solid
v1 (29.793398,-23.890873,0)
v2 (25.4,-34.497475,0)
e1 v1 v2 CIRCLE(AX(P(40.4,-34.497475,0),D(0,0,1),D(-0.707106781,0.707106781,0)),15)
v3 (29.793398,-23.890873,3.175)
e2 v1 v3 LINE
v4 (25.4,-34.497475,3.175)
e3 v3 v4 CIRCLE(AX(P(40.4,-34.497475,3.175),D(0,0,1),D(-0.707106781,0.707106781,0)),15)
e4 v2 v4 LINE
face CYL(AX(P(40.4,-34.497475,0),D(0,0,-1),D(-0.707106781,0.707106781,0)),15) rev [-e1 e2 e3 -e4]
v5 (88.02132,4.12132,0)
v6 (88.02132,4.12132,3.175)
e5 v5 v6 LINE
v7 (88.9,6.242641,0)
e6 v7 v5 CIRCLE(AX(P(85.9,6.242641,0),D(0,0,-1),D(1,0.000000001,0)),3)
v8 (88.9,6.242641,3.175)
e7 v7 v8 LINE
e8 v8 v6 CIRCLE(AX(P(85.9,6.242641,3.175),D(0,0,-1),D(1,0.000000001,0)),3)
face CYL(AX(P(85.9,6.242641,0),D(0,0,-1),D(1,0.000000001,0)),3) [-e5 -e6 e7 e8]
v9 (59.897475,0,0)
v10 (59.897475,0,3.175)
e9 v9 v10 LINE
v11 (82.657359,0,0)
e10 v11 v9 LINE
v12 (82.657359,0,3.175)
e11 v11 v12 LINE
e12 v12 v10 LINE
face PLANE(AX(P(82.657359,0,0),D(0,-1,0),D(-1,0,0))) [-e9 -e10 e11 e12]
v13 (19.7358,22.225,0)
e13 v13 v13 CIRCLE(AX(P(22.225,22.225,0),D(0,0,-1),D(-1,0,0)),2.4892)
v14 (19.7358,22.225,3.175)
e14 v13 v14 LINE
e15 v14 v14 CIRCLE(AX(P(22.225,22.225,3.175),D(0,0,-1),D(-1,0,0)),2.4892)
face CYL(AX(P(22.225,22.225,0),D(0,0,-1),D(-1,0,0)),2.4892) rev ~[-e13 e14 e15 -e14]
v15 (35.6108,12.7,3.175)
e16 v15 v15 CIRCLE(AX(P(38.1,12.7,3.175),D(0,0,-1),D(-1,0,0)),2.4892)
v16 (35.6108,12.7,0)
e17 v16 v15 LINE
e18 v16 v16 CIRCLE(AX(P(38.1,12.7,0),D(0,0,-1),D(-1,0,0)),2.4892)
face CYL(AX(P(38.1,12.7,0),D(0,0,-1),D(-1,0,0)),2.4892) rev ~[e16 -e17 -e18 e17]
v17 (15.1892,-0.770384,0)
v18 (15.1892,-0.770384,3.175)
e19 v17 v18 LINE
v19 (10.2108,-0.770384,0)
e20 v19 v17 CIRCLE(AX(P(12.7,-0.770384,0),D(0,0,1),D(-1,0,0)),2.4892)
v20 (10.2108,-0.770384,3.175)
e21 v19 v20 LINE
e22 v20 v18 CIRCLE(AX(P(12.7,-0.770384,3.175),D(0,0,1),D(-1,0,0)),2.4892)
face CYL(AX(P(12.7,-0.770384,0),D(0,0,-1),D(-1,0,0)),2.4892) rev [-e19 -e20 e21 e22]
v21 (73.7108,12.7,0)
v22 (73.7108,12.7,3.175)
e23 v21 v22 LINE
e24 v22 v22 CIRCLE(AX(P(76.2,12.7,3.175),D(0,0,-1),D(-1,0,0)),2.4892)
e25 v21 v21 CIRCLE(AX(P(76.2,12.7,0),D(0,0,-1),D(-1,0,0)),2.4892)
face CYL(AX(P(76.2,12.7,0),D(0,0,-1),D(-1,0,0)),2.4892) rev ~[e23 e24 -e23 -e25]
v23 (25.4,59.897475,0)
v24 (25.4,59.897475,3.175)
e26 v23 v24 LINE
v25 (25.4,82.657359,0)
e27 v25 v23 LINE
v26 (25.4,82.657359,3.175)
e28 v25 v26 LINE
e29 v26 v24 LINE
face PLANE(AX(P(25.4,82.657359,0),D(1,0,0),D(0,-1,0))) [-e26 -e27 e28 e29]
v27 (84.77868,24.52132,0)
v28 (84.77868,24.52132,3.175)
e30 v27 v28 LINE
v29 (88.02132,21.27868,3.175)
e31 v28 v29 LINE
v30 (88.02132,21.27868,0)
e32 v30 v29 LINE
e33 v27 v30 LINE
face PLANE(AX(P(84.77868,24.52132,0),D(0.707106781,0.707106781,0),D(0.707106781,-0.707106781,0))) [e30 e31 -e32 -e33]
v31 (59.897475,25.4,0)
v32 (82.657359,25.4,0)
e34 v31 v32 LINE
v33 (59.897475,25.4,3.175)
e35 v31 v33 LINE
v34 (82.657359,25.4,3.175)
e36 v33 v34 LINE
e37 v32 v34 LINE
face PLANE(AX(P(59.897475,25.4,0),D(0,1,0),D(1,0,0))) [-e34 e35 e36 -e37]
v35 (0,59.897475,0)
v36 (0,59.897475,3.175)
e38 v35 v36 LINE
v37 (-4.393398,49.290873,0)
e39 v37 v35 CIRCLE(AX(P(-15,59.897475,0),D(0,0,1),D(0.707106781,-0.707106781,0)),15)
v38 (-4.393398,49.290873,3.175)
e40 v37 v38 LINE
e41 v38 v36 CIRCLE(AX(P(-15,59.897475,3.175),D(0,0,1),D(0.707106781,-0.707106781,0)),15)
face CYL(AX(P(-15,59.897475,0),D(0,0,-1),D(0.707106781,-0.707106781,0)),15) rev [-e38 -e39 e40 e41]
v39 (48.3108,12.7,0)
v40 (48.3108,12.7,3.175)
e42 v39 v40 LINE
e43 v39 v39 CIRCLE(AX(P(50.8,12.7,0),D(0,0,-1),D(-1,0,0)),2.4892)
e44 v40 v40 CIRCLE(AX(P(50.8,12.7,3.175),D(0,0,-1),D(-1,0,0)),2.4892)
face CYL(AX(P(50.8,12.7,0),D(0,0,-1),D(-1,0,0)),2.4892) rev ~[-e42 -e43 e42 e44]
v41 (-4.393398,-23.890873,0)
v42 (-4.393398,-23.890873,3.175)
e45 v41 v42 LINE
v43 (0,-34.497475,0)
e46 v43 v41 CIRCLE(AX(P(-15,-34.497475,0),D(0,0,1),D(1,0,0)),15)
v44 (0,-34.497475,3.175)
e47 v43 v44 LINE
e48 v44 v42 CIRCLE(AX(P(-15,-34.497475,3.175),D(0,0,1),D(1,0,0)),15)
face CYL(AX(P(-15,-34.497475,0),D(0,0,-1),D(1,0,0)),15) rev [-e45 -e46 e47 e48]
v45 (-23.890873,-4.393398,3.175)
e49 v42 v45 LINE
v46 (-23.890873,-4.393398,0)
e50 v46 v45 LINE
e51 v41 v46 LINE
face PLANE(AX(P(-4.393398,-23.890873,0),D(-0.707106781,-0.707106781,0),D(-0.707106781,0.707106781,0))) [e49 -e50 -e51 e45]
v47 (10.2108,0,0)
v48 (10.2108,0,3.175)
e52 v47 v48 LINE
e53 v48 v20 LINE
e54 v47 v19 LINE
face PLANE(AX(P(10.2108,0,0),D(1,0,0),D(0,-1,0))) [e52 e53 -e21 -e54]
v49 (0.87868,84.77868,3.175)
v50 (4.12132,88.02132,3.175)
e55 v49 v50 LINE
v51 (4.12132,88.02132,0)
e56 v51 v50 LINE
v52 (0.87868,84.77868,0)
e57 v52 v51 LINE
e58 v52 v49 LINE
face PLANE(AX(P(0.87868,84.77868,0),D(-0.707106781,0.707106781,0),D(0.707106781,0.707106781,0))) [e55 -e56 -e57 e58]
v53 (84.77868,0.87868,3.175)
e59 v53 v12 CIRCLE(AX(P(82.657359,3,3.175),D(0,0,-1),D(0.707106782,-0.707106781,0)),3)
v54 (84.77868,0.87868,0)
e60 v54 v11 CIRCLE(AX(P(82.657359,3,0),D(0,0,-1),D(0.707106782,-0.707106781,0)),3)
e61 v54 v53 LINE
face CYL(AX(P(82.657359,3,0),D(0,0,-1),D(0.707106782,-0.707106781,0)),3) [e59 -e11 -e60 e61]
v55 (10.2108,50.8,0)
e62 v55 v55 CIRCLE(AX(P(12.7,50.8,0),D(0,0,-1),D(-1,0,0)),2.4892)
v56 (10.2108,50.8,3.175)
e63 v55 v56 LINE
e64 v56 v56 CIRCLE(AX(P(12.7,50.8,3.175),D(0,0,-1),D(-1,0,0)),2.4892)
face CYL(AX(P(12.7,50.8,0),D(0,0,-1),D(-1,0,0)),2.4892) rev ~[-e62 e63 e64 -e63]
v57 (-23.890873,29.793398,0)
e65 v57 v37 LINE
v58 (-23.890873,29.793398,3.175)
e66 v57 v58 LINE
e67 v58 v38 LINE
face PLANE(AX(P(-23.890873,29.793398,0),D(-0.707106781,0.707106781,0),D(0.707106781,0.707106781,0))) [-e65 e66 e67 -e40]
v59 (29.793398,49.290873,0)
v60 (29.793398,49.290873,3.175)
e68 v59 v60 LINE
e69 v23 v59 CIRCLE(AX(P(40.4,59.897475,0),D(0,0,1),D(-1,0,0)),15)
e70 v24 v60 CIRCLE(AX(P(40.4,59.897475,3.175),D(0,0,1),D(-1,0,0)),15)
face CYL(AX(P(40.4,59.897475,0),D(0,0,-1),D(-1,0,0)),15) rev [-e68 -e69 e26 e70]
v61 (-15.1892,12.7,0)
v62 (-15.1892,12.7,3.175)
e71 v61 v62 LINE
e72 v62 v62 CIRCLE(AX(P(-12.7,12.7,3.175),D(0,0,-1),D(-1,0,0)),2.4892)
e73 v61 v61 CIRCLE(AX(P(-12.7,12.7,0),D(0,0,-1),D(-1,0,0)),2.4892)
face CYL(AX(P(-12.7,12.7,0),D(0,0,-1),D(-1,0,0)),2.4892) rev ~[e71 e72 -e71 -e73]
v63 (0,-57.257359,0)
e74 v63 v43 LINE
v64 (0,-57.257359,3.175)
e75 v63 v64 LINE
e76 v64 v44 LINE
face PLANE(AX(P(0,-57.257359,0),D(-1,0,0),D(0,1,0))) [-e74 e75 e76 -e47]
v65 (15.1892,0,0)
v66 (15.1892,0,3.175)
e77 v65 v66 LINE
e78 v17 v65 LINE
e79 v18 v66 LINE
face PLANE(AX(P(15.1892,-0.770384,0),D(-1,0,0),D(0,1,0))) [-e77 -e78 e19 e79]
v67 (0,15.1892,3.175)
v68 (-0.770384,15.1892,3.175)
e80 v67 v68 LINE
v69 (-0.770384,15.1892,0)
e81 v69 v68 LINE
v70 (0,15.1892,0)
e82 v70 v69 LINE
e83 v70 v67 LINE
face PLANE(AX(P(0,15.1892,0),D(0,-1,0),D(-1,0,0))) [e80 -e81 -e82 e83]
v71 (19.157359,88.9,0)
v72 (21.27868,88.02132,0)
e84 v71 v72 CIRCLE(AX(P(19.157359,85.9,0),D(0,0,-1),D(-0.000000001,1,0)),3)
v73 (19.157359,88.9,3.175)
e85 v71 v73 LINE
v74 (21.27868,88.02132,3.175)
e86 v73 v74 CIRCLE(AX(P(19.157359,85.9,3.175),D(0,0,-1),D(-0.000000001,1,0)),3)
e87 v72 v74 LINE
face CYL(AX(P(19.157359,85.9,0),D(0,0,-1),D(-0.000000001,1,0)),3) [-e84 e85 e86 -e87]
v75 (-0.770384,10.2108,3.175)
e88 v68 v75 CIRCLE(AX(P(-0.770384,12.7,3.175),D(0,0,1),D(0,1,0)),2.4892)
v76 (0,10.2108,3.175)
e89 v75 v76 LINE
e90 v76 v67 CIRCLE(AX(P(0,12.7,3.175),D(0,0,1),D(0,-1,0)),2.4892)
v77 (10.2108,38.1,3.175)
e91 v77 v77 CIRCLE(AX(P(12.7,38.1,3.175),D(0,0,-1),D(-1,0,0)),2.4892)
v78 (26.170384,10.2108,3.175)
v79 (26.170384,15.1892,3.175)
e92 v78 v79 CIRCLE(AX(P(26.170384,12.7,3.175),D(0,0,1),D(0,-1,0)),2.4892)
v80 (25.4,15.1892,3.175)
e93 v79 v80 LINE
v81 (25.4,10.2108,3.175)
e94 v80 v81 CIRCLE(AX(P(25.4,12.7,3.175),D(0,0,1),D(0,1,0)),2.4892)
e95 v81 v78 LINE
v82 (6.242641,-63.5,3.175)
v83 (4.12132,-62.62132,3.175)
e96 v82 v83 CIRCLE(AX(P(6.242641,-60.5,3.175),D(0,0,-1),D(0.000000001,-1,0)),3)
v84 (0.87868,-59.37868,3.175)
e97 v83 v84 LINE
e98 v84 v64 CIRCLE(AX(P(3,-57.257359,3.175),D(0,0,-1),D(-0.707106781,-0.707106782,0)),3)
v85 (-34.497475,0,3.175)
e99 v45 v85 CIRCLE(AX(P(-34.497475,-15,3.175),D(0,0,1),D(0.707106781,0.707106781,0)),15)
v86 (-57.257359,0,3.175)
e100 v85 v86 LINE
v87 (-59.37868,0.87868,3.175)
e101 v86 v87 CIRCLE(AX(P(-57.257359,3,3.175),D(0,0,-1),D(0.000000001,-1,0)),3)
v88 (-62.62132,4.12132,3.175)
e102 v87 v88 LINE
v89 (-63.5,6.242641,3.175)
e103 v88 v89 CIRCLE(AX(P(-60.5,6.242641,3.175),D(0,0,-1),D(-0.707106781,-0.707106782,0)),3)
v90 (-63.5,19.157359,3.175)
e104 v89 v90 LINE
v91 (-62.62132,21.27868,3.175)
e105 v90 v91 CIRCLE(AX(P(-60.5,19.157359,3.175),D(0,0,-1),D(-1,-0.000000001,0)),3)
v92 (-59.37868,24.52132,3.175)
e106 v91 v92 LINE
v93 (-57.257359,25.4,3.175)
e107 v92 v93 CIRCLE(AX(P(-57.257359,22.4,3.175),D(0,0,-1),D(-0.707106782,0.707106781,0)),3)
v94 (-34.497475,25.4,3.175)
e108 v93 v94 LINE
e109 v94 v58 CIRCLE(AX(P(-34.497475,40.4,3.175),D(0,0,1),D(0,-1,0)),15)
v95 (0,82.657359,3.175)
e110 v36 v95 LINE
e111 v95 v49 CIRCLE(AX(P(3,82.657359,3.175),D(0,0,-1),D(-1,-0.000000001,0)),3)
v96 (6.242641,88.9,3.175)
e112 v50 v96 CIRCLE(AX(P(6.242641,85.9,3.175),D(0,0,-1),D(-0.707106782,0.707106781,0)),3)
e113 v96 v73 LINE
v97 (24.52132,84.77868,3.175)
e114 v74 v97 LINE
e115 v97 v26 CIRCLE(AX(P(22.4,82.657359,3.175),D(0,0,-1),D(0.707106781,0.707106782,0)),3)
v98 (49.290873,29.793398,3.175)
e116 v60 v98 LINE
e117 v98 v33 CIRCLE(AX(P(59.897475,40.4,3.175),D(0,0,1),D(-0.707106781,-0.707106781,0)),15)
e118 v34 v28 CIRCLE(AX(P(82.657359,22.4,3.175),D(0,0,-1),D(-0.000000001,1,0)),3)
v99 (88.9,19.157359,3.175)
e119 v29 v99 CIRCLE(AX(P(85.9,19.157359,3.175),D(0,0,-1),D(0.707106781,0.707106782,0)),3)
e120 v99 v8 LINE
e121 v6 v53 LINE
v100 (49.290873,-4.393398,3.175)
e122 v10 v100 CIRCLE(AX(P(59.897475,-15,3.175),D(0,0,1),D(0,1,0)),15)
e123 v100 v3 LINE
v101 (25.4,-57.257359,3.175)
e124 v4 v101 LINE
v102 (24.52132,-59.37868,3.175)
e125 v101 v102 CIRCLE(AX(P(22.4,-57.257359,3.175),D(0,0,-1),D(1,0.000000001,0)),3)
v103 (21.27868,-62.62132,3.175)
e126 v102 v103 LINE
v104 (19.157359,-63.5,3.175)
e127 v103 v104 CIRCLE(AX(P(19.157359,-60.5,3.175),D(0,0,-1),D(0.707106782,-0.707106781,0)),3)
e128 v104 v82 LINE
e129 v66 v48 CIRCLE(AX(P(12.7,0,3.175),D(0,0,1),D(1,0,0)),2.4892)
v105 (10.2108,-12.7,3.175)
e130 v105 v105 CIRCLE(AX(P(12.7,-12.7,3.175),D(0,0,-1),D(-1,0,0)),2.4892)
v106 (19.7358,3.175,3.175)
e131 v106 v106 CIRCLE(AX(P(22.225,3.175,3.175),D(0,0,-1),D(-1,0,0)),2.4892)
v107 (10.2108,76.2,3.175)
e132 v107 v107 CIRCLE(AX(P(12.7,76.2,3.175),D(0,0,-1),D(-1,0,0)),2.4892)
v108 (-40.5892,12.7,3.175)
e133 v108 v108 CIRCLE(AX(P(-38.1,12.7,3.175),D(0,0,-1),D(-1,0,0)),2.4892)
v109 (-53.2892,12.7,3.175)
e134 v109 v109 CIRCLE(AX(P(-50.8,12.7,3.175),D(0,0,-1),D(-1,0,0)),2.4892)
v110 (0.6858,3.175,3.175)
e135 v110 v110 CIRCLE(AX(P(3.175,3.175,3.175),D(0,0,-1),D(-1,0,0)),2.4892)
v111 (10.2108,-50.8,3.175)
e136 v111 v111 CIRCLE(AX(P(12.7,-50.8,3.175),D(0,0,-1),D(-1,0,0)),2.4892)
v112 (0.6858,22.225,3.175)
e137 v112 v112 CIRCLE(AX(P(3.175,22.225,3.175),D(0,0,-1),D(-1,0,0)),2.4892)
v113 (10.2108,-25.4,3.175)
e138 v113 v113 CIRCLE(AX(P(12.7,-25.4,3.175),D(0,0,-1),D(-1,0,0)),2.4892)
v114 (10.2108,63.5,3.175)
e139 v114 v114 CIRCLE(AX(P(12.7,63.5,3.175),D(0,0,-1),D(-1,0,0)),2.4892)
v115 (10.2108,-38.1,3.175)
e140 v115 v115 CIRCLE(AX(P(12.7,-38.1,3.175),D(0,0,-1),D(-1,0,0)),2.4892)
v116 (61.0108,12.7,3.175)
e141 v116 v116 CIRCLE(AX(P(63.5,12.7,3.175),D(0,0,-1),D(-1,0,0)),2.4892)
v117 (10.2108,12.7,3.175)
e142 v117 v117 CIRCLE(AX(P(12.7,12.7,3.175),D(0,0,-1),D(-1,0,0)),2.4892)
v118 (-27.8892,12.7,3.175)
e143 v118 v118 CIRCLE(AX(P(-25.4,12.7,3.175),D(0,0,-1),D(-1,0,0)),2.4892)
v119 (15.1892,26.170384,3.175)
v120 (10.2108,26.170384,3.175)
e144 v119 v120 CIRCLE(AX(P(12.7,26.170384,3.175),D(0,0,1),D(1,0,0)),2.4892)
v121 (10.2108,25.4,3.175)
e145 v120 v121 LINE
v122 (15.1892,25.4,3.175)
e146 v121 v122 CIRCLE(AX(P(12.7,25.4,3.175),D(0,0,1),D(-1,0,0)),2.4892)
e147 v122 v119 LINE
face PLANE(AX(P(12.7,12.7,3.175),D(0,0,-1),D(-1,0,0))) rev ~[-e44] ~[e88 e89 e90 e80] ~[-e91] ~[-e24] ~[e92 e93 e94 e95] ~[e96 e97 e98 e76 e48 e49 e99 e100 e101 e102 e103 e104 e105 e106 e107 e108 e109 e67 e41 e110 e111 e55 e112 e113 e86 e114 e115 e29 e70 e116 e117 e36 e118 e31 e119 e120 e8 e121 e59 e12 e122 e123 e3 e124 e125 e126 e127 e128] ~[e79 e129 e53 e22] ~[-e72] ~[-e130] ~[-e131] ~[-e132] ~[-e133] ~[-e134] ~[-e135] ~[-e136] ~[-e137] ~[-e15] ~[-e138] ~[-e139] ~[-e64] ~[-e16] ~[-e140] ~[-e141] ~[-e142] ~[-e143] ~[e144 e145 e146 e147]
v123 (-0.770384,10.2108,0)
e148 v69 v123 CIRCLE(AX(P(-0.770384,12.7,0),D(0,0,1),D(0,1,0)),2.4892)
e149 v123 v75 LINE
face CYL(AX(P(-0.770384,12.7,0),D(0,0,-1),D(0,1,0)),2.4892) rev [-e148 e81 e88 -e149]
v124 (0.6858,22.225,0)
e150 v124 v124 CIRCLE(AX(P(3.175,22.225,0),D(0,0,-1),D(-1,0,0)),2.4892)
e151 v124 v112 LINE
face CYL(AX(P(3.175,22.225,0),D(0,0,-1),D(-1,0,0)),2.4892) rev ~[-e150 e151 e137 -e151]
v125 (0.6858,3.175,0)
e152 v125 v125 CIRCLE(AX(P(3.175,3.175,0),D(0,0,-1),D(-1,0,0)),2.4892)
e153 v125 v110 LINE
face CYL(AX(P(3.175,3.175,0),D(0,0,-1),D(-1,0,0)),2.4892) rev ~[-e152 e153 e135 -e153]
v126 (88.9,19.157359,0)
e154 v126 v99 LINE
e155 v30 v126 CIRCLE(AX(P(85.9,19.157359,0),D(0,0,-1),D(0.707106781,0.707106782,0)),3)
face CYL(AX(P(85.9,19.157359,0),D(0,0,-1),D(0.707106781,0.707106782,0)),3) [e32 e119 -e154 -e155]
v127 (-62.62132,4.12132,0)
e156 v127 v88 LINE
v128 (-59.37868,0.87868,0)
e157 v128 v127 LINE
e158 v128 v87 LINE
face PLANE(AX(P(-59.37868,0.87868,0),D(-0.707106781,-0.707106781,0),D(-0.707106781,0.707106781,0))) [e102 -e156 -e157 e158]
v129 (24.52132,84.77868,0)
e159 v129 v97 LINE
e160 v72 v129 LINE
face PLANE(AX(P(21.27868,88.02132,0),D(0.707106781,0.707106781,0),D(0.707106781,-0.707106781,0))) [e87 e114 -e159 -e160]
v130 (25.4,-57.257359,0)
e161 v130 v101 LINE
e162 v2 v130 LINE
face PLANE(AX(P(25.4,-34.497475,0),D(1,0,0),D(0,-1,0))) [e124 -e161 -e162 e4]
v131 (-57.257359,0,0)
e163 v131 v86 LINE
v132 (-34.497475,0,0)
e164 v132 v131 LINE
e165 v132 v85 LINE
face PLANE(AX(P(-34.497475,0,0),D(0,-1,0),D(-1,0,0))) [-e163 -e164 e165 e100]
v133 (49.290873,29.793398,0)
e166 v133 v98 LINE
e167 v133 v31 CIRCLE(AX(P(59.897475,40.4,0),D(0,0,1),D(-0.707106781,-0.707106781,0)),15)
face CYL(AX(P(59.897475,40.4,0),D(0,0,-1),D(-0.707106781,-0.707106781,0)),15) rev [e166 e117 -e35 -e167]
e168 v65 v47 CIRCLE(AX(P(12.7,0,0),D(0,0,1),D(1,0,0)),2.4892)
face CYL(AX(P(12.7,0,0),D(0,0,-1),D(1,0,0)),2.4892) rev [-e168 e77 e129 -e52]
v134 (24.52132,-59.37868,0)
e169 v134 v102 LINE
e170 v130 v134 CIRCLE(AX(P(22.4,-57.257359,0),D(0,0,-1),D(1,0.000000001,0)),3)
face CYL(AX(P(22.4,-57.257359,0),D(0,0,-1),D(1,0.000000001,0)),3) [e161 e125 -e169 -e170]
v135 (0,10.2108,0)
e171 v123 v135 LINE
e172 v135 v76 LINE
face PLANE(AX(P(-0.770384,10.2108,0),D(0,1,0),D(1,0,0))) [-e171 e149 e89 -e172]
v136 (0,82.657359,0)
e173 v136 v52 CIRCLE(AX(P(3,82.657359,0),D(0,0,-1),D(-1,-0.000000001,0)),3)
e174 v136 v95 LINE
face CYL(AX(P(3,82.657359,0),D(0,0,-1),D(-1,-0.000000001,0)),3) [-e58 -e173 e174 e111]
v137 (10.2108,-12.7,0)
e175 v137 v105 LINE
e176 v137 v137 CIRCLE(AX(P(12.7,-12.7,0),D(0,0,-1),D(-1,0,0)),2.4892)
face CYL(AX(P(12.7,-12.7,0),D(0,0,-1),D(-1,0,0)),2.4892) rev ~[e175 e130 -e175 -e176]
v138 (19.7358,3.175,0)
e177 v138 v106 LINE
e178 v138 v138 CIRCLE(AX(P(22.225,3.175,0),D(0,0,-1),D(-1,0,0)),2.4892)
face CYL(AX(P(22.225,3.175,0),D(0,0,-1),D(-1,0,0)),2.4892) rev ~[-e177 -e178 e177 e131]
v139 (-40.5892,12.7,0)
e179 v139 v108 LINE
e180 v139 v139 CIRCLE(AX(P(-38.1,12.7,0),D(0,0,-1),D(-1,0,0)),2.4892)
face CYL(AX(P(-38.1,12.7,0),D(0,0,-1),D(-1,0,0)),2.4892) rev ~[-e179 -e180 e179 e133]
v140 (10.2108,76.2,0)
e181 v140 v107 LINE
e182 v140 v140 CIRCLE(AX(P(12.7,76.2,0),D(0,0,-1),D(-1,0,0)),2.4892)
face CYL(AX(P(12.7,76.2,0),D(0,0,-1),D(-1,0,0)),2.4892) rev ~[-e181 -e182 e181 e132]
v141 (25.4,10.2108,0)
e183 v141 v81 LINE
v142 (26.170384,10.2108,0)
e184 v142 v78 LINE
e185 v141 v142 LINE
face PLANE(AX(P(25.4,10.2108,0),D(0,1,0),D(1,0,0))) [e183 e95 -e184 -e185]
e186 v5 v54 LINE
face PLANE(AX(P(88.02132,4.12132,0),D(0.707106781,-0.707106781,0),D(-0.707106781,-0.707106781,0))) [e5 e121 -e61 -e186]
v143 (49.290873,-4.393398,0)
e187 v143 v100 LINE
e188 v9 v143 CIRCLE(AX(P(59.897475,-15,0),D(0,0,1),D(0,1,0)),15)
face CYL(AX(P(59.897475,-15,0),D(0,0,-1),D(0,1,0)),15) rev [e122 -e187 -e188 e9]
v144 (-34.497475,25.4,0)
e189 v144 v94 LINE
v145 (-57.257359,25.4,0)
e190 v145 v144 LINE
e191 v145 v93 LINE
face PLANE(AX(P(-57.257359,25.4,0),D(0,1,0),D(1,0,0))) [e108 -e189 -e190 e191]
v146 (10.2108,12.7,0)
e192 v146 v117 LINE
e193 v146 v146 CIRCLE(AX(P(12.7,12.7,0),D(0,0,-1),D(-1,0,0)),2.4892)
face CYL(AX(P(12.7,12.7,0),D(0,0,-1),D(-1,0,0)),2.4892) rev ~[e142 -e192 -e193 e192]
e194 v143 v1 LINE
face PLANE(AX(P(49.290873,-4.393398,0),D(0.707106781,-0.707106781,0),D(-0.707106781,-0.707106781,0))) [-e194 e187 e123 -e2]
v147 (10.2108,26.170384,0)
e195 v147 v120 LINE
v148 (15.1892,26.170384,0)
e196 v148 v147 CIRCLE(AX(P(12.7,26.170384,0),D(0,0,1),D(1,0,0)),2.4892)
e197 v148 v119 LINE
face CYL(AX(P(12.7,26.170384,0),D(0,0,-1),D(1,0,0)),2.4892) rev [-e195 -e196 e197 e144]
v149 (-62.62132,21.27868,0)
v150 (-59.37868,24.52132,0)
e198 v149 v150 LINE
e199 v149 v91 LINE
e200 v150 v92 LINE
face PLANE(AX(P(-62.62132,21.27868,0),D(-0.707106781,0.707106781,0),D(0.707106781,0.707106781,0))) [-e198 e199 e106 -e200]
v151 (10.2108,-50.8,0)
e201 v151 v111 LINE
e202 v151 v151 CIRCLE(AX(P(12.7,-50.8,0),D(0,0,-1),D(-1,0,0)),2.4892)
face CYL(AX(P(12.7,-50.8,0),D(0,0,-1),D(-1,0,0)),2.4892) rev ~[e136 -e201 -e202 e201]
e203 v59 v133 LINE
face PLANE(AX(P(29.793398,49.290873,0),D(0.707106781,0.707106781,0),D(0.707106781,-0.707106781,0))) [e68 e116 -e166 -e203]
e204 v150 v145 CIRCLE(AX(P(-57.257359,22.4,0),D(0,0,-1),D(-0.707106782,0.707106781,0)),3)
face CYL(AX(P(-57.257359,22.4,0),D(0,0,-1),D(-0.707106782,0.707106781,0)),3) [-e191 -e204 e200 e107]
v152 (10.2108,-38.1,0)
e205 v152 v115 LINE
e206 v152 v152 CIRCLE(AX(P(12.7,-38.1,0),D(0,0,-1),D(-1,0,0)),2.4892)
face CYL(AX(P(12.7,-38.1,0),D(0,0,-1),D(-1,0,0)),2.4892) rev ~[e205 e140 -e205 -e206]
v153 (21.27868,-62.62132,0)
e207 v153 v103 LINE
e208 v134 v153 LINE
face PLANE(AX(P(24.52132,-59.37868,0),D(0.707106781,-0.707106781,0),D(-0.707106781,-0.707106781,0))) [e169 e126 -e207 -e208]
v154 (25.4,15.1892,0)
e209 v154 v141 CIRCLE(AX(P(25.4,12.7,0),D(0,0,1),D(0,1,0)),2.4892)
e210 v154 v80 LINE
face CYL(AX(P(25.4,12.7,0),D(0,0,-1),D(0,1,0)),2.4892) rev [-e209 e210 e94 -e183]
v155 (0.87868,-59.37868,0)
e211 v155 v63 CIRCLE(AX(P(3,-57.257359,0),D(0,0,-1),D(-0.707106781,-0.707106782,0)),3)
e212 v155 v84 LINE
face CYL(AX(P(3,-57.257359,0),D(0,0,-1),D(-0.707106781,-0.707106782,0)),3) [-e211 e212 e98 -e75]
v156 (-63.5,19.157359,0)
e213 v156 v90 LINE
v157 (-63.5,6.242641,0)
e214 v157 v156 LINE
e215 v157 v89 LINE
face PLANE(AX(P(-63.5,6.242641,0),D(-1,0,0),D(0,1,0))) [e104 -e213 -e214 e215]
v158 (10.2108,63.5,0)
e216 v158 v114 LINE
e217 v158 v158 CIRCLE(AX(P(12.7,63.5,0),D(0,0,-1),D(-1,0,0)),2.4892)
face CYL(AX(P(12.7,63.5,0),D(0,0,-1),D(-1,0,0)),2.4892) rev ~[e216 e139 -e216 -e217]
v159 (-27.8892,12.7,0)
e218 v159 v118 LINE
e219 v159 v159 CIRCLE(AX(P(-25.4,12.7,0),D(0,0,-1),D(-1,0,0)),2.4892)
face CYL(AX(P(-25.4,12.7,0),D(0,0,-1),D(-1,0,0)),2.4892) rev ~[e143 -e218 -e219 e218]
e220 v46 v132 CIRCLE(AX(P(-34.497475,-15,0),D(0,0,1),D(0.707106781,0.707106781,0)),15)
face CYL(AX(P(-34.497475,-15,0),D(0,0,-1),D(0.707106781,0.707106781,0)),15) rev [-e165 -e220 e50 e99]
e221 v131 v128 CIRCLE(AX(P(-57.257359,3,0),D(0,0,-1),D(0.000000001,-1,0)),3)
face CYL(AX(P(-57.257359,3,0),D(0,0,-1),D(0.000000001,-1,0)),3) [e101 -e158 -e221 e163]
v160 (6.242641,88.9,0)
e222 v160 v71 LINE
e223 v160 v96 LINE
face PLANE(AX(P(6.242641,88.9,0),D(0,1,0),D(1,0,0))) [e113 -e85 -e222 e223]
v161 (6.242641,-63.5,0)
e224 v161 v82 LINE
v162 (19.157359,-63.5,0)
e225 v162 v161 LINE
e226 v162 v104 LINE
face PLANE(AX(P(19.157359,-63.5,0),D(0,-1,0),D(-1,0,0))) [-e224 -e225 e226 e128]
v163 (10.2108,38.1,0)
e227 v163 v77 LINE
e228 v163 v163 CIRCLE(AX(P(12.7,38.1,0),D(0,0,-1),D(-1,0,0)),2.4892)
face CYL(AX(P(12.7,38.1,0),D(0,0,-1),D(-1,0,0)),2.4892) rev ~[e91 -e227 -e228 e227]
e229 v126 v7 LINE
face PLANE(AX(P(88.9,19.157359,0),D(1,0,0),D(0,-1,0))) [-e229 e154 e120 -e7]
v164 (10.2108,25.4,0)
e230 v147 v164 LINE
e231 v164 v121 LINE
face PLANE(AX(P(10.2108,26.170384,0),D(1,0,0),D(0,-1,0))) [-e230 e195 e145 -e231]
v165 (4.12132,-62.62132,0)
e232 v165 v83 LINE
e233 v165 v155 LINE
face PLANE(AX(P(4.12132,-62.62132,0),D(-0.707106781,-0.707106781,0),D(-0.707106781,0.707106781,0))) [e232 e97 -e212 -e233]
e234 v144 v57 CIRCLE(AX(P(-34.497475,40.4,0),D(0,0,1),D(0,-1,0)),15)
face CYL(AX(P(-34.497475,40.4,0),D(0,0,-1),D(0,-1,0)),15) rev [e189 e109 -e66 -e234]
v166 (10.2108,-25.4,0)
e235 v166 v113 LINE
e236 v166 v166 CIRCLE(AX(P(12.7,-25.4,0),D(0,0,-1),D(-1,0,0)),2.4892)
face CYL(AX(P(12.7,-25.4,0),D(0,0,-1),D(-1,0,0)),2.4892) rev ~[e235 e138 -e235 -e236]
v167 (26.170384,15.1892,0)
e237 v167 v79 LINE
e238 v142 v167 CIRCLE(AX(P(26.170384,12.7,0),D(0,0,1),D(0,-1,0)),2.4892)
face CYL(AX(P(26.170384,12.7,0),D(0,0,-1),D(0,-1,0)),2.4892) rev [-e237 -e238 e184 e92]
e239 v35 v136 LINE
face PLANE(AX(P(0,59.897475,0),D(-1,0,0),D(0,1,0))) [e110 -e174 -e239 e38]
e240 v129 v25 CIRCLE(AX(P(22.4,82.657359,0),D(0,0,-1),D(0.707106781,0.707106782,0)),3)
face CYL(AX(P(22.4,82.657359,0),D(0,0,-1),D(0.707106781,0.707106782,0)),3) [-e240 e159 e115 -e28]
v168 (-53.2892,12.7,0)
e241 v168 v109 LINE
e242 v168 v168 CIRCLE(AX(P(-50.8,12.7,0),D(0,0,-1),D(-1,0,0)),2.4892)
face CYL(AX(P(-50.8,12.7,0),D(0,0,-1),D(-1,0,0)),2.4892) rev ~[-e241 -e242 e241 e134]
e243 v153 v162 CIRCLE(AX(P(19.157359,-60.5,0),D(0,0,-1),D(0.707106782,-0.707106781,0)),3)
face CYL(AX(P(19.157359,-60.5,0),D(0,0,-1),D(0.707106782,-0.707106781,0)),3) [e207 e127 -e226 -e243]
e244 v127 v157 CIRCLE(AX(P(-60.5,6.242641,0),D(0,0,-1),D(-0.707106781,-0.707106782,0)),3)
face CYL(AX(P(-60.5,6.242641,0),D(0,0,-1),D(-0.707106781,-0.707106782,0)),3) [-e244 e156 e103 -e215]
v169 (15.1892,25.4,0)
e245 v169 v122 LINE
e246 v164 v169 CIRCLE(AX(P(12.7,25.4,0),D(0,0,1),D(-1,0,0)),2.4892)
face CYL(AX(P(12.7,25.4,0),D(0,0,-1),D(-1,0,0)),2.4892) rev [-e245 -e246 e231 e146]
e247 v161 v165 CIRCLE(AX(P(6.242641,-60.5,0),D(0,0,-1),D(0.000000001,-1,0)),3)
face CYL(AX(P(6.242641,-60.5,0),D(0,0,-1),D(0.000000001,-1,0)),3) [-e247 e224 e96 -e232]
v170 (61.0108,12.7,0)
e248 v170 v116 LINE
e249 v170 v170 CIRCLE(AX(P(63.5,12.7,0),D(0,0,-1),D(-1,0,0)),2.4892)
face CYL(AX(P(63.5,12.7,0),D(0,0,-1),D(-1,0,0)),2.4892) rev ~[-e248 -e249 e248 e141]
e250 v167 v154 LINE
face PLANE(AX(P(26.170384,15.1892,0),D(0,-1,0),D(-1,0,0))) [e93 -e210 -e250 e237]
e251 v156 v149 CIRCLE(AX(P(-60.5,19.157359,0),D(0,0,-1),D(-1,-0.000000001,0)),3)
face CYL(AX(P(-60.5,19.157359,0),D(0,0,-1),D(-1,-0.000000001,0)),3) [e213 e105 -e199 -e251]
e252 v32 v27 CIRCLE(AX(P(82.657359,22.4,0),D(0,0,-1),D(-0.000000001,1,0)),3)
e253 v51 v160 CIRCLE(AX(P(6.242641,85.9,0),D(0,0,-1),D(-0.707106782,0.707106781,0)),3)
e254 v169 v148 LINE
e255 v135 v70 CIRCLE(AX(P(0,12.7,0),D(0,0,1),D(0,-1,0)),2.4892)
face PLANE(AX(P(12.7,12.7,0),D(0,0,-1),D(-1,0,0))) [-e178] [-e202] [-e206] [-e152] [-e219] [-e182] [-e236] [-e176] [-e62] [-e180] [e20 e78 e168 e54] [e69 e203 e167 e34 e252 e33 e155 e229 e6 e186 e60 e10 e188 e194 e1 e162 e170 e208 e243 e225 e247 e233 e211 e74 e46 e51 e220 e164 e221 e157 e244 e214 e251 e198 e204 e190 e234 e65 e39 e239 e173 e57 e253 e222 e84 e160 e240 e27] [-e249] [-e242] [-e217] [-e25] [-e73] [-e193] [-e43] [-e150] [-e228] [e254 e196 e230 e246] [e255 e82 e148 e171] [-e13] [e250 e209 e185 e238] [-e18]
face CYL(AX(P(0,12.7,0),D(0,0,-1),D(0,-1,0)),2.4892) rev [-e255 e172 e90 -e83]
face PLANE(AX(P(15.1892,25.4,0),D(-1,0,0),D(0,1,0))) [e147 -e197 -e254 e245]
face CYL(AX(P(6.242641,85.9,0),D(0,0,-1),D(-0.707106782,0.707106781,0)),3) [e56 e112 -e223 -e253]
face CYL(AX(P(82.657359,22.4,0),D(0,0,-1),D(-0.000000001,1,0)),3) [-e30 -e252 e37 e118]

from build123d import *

# Parameters (mm, degrees)
SKETCH1_R           = 2.4892
BOSS_EXTRUDE1_DEPTH = 3.175


with BuildPart() as part:
    # Sketch1 → Boss-Extrude1 (new body)
    with BuildSketch(Plane(origin=(0, 0, 0), x_dir=(-1, 0, 0), z_dir=(0, 0, -1))):
        with BuildLine():
            Line((-59.897474683, 25.4), (-82.657359313, 25.4))
            ThreePointArc((-82.657359313, 25.4), (-83.80540961, 25.171638598), (-84.778679656, 24.521320344))
            Line((-84.778679656, 24.521320344), (-88.021320344, 21.278679656))
            ThreePointArc((-88.021320344, 21.278679656), (-88.671638598, 20.30540961), (-88.9, 19.157359313))
            Line((-88.9, 19.157359313), (-88.9, 6.242640687))
            ThreePointArc((-88.9, 6.242640687), (-88.671638598, 5.09459039), (-88.021320344, 4.121320344))
            Line((-88.021320344, 4.121320344), (-84.778679656, 0.878679656))
            ThreePointArc((-84.778679656, 0.878679656), (-83.80540961, 0.228361402), (-82.657359313, 0))
            Line((-82.657359313, 0), (-59.897474683, 0))
            ThreePointArc((-59.897474683, 0), (-54.157223198, -1.141807012), (-49.290872965, -4.393398282))
            Line((-49.290872965, -4.393398282), (-29.793398282, -23.890872965))
            ThreePointArc((-29.793398282, -23.890872965), (-26.541807012, -28.757223198), (-25.4, -34.497474683))
            Line((-25.4, -34.497474683), (-25.4, -57.257359313))
            ThreePointArc((-25.4, -57.257359313), (-25.171638598, -58.40540961), (-24.521320344, -59.378679656))
            Line((-24.521320344, -59.378679656), (-21.278679656, -62.621320344))
            ThreePointArc((-21.278679656, -62.621320344), (-20.30540961, -63.271638598), (-19.157359313, -63.5))
            Line((-19.157359313, -63.5), (-6.242640687, -63.5))
            ThreePointArc((-6.242640687, -63.5), (-5.09459039, -63.271638598), (-4.121320344, -62.621320344))
            Line((-4.121320344, -62.621320344), (-0.878679656, -59.378679656))
            ThreePointArc((-0.878679656, -59.378679656), (-0.228361402, -58.40540961), (0, -57.257359313))
            Line((0, -57.257359313), (0, -34.497474683))
            ThreePointArc((0, -34.497474683), (1.141807012, -28.757223198), (4.393398282, -23.890872965))
            Line((4.393398282, -23.890872965), (23.890872965, -4.393398282))
            ThreePointArc((23.890872965, -4.393398282), (28.757223198, -1.141807012), (34.497474683, 0))
            Line((34.497474683, 0), (57.257359313, 0))
            ThreePointArc((57.257359313, 0), (58.40540961, 0.228361402), (59.378679656, 0.878679656))
            Line((59.378679656, 0.878679656), (62.621320344, 4.121320344))
            ThreePointArc((62.621320344, 4.121320344), (63.271638598, 5.09459039), (63.5, 6.242640687))
            Line((63.5, 6.242640687), (63.5, 19.157359313))
            ThreePointArc((63.5, 19.157359313), (63.271638598, 20.30540961), (62.621320344, 21.278679656))
            Line((62.621320344, 21.278679656), (59.378679656, 24.521320344))
            ThreePointArc((59.378679656, 24.521320344), (58.40540961, 25.171638598), (57.257359313, 25.4))
            Line((57.257359313, 25.4), (34.497474683, 25.4))
            ThreePointArc((34.497474683, 25.4), (28.757223198, 26.541807012), (23.890872965, 29.793398282))
            Line((23.890872965, 29.793398282), (4.393398282, 49.290872965))
            ThreePointArc((4.393398282, 49.290872965), (1.141807012, 54.157223198), (0, 59.897474683))
            Line((0, 59.897474683), (0, 82.657359313))
            ThreePointArc((0, 82.657359313), (-0.228361402, 83.80540961), (-0.878679656, 84.778679656))
            Line((-0.878679656, 84.778679656), (-4.121320344, 88.021320344))
            ThreePointArc((-4.121320344, 88.021320344), (-5.09459039, 88.671638598), (-6.242640687, 88.9))
            Line((-6.242640687, 88.9), (-19.157359313, 88.9))
            ThreePointArc((-19.157359313, 88.9), (-20.30540961, 88.671638598), (-21.278679656, 88.021320344))
            Line((-21.278679656, 88.021320344), (-24.521320344, 84.778679656))
            ThreePointArc((-24.521320344, 84.778679656), (-25.171638598, 83.80540961), (-25.4, 82.657359313))
            Line((-25.4, 82.657359313), (-25.4, 59.897474683))
            ThreePointArc((-25.4, 59.897474683), (-26.541807012, 54.157223198), (-29.793398282, 49.290872965))
            Line((-29.793398282, 49.290872965), (-49.290872965, 29.793398282))
            ThreePointArc((-49.290872965, 29.793398282), (-54.157223198, 26.541807012), (-59.897474683, 25.4))
        make_face()
        with Locations((-12.7, -12.7)):
            Circle(SKETCH1_R, mode=Mode.SUBTRACT)
        with Locations((-12.7, -38.1)):
            Circle(SKETCH1_R, mode=Mode.SUBTRACT)
        with Locations((-12.7, -25.4)):
            Circle(SKETCH1_R, mode=Mode.SUBTRACT)
        with Locations((-12.7, -50.8)):
            Circle(SKETCH1_R, mode=Mode.SUBTRACT)
        with Locations((-12.7, 12.7)):
            Circle(SKETCH1_R, mode=Mode.SUBTRACT)
        with Locations((-63.5, 12.7)):
            Circle(SKETCH1_R, mode=Mode.SUBTRACT)
        with Locations((-38.1, 12.7)):
            Circle(SKETCH1_R, mode=Mode.SUBTRACT)
        with Locations((-76.2, 12.7)):
            Circle(SKETCH1_R, mode=Mode.SUBTRACT)
        with Locations((-50.8, 12.7)):
            Circle(SKETCH1_R, mode=Mode.SUBTRACT)
        with Locations((25.4, 12.7)):
            Circle(SKETCH1_R, mode=Mode.SUBTRACT)
        with Locations((50.8, 12.7)):
            Circle(SKETCH1_R, mode=Mode.SUBTRACT)
        with Locations((12.7, 12.7)):
            Circle(SKETCH1_R, mode=Mode.SUBTRACT)
        with Locations((38.1, 12.7)):
            Circle(SKETCH1_R, mode=Mode.SUBTRACT)
        with Locations((-12.7, 50.8)):
            Circle(SKETCH1_R, mode=Mode.SUBTRACT)
        with Locations((-12.7, 63.5)):
            Circle(SKETCH1_R, mode=Mode.SUBTRACT)
        with Locations((-12.7, 38.1)):
            Circle(SKETCH1_R, mode=Mode.SUBTRACT)
        with Locations((-12.7, 76.2)):
            Circle(SKETCH1_R, mode=Mode.SUBTRACT)
        with Locations((-3.175, 3.175)):
            Circle(SKETCH1_R, mode=Mode.SUBTRACT)
        with Locations((-22.225, 3.175)):
            Circle(SKETCH1_R, mode=Mode.SUBTRACT)
        with Locations((-22.225, 22.225)):
            Circle(SKETCH1_R, mode=Mode.SUBTRACT)
        with Locations((-3.175, 22.225)):
            Circle(SKETCH1_R, mode=Mode.SUBTRACT)
        with BuildLine():
            Line((0, 15.1892), (0.770384182, 15.1892))
            ThreePointArc((0.770384182, 15.1892), (3.259584182, 12.7), (0.770384182, 10.2108))
            Line((0.770384182, 10.2108), (0, 10.2108))
            ThreePointArc((0, 10.2108), (-2.4892, 12.7), (0, 15.1892))
        make_face(mode=Mode.SUBTRACT)
        with BuildLine():
            Line((-26.170384182, 15.1892), (-25.4, 15.1892))
            ThreePointArc((-25.4, 15.1892), (-22.9108, 12.7), (-25.4, 10.2108))
            Line((-25.4, 10.2108), (-26.170384182, 10.2108))
            ThreePointArc((-26.170384182, 10.2108), (-28.659584182, 12.7), (-26.170384182, 15.1892))
        make_face(mode=Mode.SUBTRACT)
        with BuildLine():
            Line((-15.1892, -0.770384182), (-15.1892, 0))
            ThreePointArc((-15.1892, 0), (-12.7, 2.4892), (-10.2108, 0))
            Line((-10.2108, 0), (-10.2108, -0.770384182))
            ThreePointArc((-10.2108, -0.770384182), (-12.7, -3.259584182), (-15.1892, -0.770384182))
        make_face(mode=Mode.SUBTRACT)
        with BuildLine():
            Line((-10.2108, 26.170384182), (-10.2108, 25.4))
            ThreePointArc((-10.2108, 25.4), (-12.7, 22.9108), (-15.1892, 25.4))
            Line((-15.1892, 25.4), (-15.1892, 26.170384182))
            ThreePointArc((-15.1892, 26.170384182), (-12.7, 28.659584182), (-10.2108, 26.170384182))
        make_face(mode=Mode.SUBTRACT)
    extrude(amount=-BOSS_EXTRUDE1_DEPTH)


solid = part.part
